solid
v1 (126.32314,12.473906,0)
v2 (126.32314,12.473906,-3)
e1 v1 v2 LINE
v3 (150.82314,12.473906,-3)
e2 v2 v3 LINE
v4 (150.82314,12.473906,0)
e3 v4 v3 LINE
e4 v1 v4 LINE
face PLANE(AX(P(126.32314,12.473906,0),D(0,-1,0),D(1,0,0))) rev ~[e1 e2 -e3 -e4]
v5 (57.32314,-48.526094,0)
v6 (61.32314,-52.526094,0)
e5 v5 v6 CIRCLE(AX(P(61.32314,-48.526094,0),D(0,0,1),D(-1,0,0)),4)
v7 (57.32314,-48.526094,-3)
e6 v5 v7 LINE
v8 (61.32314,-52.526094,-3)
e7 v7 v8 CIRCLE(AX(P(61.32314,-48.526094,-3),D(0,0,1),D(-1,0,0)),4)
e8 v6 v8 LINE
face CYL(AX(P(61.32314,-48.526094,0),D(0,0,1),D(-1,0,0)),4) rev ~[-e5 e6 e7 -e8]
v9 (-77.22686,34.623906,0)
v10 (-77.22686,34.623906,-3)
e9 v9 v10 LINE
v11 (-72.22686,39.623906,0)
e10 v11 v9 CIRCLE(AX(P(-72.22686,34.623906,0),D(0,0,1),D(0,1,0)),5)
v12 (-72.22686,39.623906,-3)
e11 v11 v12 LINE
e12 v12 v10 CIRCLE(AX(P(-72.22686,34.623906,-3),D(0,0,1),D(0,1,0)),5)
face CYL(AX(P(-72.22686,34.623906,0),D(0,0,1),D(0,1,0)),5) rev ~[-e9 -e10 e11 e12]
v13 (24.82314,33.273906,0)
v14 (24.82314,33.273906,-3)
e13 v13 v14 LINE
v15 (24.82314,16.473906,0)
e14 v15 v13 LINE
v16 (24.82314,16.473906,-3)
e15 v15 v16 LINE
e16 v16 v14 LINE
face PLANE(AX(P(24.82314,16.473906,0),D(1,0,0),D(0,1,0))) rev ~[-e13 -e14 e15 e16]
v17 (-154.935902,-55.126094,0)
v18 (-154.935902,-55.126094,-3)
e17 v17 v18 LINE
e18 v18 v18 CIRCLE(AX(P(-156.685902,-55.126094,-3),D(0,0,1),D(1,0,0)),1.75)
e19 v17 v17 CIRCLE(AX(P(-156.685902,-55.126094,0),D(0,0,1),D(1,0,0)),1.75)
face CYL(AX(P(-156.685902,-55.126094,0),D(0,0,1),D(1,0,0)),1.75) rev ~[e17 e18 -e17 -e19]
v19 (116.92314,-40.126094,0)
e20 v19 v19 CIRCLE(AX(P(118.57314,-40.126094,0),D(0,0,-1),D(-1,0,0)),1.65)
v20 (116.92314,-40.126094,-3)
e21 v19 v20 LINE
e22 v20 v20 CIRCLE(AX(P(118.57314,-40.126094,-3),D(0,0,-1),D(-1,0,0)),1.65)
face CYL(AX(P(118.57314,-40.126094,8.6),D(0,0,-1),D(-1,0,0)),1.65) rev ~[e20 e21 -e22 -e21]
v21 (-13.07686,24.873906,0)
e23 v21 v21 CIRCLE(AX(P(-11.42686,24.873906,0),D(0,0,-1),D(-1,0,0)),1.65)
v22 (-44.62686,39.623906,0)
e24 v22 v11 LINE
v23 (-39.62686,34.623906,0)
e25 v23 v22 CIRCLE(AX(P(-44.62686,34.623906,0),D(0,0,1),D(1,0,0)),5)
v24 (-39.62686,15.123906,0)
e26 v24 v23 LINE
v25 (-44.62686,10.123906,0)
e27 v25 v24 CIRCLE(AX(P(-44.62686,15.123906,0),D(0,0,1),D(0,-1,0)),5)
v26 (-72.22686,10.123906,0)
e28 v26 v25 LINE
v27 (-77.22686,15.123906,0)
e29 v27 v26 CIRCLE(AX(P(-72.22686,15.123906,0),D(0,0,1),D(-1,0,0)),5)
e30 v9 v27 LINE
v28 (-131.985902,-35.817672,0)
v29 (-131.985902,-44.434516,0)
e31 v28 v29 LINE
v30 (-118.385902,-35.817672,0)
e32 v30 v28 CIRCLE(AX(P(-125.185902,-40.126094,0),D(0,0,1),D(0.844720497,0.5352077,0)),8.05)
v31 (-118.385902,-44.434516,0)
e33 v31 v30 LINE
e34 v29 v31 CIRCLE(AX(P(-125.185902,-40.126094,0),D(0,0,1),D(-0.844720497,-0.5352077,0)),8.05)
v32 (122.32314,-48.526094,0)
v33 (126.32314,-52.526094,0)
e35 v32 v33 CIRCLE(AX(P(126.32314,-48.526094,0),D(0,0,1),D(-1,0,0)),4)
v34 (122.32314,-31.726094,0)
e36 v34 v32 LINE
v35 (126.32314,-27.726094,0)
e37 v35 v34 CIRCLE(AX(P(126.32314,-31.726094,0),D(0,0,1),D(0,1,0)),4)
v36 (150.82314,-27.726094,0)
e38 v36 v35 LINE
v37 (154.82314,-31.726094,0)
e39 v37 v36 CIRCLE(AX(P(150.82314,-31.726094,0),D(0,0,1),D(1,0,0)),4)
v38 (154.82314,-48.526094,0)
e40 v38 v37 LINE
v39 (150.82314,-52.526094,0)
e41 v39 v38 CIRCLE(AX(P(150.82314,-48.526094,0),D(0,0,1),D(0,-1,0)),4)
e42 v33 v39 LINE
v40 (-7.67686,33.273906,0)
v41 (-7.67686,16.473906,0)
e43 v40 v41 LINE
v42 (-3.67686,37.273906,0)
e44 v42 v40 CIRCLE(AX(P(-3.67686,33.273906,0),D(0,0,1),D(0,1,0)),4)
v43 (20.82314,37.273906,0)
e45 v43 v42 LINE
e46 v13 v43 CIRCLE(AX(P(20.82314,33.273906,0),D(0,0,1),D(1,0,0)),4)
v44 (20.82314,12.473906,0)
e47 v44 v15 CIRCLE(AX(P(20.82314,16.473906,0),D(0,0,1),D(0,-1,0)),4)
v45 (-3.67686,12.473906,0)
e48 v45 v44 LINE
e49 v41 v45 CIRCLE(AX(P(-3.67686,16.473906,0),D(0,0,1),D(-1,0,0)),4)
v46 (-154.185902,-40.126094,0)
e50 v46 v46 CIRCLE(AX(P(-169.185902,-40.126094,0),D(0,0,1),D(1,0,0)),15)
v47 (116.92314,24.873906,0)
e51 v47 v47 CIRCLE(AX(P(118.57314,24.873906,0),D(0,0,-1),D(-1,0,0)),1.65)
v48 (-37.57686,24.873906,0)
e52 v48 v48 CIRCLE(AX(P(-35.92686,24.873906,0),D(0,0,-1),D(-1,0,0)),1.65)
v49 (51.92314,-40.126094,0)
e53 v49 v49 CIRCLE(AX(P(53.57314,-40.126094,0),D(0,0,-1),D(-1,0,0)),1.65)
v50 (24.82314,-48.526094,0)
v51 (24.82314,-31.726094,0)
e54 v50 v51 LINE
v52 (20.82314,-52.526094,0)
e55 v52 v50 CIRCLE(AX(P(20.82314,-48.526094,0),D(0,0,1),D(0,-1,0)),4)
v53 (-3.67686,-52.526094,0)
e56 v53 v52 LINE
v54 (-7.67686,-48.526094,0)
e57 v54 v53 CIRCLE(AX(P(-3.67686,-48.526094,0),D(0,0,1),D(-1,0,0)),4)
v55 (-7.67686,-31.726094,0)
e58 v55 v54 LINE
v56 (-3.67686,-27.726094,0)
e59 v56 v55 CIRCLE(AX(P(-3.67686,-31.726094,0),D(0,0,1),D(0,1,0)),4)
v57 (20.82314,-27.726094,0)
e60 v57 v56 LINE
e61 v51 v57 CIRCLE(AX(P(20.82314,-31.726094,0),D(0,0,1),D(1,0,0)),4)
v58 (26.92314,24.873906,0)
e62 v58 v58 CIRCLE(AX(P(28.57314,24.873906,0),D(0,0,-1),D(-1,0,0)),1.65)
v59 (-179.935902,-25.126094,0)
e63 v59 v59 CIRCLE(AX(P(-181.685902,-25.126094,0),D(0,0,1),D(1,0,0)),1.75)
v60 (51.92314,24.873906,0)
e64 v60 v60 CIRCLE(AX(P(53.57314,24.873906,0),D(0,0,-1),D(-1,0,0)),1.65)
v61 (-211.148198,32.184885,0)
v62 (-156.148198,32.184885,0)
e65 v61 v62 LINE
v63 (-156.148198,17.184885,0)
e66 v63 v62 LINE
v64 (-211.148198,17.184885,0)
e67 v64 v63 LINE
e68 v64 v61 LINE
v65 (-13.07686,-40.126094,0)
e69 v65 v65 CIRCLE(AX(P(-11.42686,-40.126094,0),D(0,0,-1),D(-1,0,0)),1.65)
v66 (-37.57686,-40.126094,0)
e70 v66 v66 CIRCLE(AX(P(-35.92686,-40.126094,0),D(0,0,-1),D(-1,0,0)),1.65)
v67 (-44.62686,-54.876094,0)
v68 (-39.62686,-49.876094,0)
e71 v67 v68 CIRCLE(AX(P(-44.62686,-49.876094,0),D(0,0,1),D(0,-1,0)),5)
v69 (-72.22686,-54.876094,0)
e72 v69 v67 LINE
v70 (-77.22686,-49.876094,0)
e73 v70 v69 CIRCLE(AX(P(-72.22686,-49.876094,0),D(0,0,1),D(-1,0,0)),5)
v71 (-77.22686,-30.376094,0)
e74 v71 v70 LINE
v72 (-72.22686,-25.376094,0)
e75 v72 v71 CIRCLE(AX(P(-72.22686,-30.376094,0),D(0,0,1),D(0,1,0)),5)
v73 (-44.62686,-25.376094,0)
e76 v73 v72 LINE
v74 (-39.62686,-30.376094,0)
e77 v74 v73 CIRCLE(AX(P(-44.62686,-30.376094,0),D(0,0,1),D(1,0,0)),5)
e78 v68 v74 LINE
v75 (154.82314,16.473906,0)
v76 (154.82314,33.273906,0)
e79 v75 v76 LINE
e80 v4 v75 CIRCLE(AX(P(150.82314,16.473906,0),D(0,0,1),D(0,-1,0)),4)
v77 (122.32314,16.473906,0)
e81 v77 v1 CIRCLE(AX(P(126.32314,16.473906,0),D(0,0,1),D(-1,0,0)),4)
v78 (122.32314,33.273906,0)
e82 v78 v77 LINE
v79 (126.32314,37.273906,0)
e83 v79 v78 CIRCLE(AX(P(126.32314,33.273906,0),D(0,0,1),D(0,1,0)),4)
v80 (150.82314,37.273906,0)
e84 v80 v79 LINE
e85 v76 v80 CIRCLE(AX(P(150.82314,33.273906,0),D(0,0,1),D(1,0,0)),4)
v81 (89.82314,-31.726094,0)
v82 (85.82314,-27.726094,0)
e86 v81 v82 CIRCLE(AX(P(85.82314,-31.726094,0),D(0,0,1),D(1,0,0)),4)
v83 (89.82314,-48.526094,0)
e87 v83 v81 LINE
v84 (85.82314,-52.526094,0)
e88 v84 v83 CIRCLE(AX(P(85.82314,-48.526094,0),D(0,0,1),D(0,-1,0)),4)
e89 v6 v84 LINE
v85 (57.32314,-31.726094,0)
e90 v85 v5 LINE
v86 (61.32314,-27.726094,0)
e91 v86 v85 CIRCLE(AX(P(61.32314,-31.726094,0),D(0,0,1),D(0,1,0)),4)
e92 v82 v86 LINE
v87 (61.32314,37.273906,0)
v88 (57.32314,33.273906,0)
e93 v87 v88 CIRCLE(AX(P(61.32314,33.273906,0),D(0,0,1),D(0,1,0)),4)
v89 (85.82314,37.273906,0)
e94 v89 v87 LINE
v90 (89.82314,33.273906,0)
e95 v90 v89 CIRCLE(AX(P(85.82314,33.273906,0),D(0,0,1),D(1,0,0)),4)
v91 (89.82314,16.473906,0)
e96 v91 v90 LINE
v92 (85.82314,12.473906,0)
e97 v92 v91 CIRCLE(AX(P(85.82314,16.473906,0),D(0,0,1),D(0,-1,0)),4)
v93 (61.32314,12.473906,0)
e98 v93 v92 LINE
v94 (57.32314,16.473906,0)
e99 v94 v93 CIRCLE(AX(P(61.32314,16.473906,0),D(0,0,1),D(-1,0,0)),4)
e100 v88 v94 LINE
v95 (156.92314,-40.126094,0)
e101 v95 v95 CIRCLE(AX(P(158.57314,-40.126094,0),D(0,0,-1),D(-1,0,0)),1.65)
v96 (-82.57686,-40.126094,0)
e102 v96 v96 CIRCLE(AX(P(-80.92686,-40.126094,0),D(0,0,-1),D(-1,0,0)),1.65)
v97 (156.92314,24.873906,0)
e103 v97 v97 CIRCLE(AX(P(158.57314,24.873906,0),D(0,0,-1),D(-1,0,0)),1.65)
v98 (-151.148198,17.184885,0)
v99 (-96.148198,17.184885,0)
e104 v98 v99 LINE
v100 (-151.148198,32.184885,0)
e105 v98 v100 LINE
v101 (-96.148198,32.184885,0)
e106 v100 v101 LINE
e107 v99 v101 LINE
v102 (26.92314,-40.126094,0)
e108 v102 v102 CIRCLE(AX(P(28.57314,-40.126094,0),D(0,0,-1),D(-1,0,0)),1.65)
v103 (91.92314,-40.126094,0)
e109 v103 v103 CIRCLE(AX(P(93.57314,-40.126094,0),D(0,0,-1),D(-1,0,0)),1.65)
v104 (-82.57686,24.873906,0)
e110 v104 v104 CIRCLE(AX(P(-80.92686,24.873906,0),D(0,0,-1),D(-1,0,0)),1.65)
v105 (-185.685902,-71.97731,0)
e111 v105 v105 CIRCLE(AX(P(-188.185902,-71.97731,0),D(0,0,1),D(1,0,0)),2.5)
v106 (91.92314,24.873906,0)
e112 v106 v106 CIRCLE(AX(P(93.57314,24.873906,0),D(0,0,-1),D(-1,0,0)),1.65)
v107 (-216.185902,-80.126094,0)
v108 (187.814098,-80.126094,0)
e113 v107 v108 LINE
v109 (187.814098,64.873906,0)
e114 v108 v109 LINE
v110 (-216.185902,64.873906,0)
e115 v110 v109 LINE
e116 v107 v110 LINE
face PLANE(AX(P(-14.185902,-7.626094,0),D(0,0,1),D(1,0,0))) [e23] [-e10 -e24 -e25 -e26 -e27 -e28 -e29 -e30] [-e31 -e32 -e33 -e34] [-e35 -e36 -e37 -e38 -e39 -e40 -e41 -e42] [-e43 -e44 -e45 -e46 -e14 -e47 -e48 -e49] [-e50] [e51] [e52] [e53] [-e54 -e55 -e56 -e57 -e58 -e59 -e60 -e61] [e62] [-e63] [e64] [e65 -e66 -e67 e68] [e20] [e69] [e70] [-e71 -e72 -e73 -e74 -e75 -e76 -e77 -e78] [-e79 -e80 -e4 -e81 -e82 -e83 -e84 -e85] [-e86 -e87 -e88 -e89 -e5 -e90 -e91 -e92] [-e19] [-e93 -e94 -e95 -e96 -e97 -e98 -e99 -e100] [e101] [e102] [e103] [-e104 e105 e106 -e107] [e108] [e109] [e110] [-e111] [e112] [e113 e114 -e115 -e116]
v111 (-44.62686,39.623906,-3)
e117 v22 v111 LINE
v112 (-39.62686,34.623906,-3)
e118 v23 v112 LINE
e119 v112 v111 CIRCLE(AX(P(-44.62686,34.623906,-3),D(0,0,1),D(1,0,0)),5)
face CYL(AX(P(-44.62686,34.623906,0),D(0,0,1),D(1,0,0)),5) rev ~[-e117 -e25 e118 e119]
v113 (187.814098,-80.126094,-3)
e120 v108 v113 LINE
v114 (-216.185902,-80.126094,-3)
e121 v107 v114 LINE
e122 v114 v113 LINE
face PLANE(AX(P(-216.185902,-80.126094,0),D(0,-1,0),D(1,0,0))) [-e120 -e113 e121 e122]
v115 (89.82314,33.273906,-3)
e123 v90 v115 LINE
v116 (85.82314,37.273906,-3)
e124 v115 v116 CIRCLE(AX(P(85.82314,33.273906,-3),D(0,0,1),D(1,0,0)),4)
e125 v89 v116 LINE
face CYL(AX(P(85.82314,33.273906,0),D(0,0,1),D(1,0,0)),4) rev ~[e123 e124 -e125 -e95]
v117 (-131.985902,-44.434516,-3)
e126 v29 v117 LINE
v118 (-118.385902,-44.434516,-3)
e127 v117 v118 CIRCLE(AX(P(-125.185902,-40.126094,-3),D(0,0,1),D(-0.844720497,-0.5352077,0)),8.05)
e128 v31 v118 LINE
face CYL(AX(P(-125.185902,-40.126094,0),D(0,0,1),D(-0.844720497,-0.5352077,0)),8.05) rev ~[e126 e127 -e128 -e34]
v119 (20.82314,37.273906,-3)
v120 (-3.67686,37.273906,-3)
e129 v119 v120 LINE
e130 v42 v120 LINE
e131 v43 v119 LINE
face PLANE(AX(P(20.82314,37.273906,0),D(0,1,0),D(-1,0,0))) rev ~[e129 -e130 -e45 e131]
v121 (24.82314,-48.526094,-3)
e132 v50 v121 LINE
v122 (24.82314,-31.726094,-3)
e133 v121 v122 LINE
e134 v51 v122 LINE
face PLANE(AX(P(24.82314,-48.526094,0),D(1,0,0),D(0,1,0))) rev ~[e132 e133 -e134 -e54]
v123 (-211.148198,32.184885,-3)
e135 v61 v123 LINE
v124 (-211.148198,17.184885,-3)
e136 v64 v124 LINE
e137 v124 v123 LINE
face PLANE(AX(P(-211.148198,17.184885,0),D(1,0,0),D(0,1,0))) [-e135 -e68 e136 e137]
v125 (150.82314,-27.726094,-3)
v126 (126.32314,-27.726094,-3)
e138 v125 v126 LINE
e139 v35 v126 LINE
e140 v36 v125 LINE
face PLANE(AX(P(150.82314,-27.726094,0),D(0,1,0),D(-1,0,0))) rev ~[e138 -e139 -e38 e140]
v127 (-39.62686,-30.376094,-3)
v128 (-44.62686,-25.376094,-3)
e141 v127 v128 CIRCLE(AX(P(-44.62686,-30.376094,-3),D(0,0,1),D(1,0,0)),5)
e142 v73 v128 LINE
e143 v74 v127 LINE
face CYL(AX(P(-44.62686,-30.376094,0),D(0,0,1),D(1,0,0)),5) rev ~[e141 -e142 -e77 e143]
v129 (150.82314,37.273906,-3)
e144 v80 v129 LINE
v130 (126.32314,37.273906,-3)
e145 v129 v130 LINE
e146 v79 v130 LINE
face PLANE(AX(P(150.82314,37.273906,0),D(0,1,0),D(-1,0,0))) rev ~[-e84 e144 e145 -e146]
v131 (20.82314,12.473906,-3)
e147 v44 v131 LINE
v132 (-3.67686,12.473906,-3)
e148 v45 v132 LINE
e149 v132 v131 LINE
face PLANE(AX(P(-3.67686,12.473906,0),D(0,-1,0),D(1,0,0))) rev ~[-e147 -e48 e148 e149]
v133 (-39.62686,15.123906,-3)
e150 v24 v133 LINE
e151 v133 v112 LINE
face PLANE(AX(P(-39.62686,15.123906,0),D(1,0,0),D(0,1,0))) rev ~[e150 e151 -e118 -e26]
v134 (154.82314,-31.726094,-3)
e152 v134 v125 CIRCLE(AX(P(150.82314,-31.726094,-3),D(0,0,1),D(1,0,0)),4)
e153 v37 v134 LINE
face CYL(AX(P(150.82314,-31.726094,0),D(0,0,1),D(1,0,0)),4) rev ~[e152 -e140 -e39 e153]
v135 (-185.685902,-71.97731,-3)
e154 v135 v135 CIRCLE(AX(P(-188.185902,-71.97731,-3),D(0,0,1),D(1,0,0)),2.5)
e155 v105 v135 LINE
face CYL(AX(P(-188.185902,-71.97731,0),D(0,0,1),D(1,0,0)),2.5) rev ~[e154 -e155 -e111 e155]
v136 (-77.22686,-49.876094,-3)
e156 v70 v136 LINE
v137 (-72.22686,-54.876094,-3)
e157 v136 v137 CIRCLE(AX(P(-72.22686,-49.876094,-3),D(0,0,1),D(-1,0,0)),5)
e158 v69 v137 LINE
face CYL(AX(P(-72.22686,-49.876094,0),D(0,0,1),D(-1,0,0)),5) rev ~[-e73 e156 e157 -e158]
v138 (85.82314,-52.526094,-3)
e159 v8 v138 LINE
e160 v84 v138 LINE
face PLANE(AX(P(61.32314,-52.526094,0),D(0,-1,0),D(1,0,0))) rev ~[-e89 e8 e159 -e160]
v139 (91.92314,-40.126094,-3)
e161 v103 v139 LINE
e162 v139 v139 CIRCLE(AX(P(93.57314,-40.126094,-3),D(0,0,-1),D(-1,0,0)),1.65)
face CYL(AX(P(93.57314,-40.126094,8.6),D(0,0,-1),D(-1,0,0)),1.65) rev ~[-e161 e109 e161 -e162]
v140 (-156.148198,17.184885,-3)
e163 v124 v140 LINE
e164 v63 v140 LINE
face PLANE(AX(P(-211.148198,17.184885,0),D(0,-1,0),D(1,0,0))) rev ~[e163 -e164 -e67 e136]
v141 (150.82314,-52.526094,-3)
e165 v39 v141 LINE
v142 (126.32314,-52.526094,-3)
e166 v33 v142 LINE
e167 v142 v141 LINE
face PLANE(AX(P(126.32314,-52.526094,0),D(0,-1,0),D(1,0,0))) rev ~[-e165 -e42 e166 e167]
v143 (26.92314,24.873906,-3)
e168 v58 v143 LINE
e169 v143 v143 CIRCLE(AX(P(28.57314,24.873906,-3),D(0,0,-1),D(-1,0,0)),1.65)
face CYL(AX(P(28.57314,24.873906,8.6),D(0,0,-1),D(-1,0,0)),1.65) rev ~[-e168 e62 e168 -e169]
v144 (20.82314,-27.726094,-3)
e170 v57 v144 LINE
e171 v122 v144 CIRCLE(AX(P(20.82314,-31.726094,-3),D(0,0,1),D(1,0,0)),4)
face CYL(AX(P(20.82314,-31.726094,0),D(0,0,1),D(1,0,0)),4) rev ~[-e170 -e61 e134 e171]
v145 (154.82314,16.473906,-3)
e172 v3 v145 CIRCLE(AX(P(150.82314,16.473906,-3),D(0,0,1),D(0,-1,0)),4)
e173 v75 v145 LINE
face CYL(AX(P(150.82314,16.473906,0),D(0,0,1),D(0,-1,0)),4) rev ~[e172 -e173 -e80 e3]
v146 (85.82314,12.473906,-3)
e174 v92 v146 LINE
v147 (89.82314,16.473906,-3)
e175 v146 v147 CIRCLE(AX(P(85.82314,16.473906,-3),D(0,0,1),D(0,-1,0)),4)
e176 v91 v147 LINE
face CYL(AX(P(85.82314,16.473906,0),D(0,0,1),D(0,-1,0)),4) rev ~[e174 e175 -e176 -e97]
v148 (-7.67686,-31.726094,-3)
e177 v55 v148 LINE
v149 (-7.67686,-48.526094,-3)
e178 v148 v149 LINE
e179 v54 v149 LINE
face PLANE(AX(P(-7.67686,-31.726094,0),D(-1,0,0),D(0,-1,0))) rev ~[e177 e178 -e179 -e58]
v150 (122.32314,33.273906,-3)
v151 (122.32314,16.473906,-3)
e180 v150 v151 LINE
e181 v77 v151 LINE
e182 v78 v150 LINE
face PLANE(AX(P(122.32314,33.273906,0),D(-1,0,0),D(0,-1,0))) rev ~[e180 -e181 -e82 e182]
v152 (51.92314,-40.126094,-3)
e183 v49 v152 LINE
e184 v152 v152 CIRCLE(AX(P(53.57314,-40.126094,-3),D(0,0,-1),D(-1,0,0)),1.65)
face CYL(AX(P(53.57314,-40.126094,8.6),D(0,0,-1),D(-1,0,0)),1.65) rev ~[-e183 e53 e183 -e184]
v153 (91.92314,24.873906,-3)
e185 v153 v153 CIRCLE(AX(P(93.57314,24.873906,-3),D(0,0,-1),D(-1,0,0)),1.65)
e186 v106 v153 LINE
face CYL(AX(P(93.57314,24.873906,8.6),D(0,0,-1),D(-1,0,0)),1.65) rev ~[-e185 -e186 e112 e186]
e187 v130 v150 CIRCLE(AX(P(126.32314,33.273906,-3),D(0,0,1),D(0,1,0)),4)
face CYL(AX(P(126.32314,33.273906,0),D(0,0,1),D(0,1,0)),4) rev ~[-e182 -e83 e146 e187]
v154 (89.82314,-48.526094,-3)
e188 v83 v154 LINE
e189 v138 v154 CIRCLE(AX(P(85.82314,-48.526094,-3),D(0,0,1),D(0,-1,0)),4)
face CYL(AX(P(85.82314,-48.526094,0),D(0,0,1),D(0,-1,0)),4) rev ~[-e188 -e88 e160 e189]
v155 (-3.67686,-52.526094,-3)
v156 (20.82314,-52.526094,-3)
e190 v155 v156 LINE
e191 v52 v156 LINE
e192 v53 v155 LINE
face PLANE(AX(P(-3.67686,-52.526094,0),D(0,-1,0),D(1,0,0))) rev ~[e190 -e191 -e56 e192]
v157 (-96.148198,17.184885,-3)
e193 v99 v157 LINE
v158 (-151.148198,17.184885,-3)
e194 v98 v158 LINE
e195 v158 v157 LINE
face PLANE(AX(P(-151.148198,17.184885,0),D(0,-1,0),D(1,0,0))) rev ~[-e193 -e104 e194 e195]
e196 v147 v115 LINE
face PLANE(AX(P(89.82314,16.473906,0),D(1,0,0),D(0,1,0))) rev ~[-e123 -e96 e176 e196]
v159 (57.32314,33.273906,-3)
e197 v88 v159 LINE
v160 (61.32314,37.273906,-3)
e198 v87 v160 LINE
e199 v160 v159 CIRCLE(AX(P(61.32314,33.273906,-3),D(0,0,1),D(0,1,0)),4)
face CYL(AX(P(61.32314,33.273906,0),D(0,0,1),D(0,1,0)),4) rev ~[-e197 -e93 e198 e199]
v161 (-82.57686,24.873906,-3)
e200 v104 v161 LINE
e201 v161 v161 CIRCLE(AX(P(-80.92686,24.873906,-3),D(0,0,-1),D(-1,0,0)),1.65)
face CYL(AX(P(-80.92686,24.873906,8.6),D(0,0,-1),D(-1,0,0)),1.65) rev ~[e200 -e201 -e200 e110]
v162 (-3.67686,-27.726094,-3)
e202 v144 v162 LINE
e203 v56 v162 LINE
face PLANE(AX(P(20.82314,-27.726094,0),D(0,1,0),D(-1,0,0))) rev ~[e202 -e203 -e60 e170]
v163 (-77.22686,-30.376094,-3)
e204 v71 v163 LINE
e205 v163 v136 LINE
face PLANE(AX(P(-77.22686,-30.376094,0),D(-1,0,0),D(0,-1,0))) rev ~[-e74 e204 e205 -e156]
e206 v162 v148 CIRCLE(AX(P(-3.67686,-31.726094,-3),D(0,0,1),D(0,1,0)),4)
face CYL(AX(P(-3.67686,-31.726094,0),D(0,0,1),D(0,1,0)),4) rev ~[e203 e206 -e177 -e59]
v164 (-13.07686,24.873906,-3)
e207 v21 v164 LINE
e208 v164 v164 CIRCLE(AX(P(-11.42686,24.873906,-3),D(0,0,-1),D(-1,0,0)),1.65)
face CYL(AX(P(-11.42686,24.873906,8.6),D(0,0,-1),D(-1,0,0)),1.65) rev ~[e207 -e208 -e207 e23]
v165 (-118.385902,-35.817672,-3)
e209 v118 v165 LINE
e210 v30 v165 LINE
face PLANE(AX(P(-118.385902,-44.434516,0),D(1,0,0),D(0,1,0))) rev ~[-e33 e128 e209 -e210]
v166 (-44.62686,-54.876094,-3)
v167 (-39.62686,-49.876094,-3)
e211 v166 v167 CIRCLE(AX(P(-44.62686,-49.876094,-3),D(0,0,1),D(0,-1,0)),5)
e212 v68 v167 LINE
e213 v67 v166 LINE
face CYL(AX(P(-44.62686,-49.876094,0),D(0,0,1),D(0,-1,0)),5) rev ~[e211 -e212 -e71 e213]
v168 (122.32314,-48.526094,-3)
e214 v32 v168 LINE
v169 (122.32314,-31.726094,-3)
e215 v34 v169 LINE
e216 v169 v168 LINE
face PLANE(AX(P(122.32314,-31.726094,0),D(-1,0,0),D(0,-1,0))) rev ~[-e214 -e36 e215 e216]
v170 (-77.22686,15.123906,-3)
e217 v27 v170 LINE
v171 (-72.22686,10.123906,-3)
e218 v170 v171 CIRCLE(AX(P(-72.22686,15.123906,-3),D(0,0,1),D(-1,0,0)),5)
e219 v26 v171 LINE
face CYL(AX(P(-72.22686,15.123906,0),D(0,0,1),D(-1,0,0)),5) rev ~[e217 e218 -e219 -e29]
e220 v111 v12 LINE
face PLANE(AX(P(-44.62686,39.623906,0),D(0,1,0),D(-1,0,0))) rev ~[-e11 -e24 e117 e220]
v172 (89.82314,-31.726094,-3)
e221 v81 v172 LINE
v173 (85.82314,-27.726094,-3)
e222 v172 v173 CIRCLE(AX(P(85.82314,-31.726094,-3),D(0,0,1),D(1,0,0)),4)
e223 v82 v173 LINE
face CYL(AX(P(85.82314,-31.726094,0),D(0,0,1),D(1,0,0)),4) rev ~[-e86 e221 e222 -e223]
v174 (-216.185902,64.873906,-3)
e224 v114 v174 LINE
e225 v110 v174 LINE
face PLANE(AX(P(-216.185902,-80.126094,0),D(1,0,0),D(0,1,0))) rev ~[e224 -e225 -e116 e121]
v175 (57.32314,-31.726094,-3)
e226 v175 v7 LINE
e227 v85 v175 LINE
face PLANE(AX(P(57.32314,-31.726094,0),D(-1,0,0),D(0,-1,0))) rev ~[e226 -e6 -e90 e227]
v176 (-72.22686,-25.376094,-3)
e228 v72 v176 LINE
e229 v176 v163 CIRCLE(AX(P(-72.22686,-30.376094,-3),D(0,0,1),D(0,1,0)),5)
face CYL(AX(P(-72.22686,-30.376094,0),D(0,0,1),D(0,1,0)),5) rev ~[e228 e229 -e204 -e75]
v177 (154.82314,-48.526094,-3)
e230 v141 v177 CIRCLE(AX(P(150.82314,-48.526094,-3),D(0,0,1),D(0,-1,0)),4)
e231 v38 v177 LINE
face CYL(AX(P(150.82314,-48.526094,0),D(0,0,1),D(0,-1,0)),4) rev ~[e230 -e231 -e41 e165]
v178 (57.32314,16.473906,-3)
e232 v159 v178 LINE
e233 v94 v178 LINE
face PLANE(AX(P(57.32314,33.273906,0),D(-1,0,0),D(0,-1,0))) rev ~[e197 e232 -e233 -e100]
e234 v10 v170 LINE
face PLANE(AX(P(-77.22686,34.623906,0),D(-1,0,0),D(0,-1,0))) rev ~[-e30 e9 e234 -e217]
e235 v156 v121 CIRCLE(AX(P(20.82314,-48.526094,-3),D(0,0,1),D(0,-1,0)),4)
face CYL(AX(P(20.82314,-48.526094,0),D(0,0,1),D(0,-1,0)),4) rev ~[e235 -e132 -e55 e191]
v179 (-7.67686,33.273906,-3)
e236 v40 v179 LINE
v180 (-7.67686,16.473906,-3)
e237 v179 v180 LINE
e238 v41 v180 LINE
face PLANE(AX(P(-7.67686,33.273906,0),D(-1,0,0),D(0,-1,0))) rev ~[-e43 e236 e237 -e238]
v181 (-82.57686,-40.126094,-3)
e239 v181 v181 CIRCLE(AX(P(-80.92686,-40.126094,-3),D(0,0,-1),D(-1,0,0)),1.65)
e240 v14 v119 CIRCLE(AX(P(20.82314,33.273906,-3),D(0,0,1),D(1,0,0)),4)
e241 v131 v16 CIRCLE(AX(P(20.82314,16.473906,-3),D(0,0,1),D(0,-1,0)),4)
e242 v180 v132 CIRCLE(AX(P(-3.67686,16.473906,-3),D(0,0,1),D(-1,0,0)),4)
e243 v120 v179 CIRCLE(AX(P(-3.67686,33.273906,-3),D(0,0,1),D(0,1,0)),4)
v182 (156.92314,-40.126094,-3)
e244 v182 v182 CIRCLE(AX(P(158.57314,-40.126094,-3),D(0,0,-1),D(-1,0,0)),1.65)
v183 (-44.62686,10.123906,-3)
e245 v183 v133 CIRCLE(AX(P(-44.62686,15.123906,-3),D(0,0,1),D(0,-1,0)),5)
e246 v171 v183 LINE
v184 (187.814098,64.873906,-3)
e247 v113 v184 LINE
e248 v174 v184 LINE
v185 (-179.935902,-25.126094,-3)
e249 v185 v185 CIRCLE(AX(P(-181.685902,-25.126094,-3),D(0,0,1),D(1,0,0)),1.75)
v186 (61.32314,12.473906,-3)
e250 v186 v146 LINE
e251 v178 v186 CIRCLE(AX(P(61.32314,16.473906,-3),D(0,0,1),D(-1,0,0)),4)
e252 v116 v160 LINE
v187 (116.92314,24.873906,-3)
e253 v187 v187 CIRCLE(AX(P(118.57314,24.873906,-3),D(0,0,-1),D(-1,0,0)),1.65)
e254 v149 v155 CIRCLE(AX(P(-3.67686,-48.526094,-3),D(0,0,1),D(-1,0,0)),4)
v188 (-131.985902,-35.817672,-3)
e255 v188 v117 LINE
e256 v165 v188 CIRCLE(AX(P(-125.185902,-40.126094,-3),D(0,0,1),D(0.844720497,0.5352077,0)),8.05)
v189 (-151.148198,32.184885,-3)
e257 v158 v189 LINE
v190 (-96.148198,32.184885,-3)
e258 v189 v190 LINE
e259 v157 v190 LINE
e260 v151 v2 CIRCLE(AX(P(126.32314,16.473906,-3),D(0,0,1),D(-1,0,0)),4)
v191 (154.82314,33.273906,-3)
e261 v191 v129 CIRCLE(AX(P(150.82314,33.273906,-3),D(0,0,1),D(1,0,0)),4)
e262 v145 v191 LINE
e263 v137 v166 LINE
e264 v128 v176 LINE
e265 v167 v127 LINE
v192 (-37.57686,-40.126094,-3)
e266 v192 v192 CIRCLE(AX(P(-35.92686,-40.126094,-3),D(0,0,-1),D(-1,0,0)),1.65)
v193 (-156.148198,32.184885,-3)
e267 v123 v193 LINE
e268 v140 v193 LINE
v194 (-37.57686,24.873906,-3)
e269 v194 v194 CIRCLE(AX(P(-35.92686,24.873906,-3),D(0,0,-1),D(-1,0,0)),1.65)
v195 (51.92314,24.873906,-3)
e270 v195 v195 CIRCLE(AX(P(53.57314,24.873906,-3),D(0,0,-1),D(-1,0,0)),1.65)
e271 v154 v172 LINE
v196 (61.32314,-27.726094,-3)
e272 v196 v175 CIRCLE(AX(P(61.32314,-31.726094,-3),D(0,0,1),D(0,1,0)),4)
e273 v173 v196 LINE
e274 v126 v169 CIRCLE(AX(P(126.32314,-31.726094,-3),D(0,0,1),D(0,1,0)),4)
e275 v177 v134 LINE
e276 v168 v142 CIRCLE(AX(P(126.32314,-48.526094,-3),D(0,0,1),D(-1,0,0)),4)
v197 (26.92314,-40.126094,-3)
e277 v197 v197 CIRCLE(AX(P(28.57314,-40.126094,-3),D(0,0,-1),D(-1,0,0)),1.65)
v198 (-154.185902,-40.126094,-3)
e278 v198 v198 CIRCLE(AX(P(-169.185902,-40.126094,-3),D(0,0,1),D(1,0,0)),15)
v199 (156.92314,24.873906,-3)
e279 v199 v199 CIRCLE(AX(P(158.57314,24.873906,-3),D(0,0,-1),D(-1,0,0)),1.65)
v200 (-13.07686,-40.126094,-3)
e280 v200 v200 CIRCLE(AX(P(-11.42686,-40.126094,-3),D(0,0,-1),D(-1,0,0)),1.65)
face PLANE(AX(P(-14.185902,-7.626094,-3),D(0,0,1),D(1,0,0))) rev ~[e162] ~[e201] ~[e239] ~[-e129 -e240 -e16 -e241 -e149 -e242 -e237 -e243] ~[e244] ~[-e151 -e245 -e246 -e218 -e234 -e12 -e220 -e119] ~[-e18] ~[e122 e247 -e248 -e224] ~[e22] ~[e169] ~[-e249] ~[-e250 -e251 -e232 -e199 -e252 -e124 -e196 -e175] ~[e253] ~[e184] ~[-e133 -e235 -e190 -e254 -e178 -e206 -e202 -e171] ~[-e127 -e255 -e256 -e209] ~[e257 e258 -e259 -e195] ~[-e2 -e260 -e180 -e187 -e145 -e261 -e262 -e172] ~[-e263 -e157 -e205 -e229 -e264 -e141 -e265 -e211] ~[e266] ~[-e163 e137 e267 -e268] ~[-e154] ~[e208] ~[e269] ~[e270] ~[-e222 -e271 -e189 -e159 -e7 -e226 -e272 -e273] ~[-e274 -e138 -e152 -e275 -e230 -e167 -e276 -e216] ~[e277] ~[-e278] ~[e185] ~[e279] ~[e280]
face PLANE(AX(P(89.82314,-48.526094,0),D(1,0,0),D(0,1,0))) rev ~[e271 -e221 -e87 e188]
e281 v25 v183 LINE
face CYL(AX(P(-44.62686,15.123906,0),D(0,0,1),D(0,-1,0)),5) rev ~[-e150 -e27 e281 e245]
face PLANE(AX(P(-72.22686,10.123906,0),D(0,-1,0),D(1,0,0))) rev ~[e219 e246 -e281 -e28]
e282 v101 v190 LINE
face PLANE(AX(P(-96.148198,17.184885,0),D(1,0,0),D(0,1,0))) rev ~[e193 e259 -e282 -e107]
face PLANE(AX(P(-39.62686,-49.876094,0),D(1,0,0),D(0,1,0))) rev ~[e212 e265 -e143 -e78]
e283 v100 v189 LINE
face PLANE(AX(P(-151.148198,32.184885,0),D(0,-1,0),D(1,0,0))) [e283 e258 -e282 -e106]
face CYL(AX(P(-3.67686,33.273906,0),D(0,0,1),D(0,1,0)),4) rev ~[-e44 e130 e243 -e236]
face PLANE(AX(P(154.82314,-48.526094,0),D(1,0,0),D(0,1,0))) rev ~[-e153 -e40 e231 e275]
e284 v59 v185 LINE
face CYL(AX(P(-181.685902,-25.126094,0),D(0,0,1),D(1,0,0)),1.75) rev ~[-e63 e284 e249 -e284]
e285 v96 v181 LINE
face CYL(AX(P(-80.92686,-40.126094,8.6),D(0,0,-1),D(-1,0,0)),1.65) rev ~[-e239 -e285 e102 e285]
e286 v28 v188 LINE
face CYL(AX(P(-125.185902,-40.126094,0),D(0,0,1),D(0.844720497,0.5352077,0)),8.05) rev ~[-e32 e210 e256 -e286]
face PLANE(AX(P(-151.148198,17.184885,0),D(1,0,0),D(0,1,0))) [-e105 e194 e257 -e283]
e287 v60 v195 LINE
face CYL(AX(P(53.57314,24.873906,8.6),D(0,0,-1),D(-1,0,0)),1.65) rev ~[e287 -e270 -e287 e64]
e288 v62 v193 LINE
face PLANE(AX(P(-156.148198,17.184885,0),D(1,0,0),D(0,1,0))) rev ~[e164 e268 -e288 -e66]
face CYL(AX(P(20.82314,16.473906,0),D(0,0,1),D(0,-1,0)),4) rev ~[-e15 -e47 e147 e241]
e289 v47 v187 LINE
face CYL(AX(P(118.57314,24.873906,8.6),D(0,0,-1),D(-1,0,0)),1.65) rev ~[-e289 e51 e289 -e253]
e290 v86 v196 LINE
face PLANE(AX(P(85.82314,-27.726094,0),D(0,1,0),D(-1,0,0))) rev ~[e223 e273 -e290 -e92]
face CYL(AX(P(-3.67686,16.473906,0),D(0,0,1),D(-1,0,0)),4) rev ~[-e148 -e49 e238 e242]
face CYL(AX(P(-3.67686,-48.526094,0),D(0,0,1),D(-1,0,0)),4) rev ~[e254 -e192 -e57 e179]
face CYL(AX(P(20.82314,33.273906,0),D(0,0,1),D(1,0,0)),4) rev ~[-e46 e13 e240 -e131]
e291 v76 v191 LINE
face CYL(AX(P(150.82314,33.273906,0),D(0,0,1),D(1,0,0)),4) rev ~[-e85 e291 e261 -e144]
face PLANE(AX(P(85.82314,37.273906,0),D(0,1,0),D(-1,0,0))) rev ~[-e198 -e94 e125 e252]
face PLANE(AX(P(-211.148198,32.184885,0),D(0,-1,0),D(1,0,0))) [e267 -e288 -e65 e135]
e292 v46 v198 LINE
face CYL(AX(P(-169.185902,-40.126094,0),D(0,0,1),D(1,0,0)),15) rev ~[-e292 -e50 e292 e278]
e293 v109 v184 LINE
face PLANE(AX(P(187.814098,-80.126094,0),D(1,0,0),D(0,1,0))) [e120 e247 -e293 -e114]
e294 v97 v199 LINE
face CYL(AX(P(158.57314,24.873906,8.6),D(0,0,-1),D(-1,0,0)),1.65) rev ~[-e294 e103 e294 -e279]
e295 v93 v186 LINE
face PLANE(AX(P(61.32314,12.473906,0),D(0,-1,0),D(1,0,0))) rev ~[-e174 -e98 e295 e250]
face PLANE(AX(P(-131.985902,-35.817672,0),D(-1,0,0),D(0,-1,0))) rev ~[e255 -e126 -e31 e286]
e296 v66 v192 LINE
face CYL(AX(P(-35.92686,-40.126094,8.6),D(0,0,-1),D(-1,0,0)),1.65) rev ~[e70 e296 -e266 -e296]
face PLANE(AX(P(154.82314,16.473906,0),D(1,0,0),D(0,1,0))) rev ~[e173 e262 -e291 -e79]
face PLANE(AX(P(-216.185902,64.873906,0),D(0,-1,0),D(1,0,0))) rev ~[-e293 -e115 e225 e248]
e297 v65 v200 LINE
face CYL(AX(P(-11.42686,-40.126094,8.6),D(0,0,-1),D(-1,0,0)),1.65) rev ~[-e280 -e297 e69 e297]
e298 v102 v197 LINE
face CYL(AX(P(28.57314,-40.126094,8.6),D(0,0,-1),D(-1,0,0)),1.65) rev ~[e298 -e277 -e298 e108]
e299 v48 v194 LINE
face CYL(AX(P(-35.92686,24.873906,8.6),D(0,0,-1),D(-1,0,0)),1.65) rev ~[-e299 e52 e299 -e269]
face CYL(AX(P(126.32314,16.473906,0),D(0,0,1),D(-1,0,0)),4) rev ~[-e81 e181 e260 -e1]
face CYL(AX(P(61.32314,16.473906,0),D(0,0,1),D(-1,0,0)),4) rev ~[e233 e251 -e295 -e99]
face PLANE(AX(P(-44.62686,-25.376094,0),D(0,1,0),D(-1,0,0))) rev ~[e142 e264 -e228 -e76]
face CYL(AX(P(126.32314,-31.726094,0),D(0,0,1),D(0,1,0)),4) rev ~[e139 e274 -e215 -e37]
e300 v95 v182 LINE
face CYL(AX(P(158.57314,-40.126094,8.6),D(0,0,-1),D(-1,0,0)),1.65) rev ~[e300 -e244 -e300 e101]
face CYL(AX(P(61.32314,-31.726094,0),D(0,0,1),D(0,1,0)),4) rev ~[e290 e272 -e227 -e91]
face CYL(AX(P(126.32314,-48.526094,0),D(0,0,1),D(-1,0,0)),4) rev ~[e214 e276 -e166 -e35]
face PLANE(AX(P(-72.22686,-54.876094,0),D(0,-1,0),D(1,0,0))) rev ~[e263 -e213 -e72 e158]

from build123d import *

# Parameters (mm, degrees)
F0_W     = 404
F0_H     = 145
F2_DEPTH = 3
F3_D     = 3.3
F3_DEPTH = 8.6
F3_TIP   = 0.9914200214
F1_R     = 1.5
F1_R_2   = 15
F1_R_3   = 1.75
F1_R_4   = 2.5
F1_W     = 55
F1_H     = 15
F4_DEPTH = 25


with BuildPart() as f2:
    # F0 (on Top) → F2 (new body)
    with BuildSketch(Plane.XY):
        with Locations((-14.1859020234, -7.6260944492)):
            Rectangle(F0_W, F0_H)
    extrude(amount=-F2_DEPTH)

    # F3
    with Locations(Plane.XY):
        with Locations((118.573140085, 24.8739055508), (158.573140085, 24.8739055508), (93.573140085, 24.8739055508), (53.573140085, 24.8739055508), (53.573140085, -40.1260944492), (93.573140085, -40.1260944492), (118.573140085, -40.1260944492), (158.573140085, -40.1260944492), (28.573140085, -40.1260944492), (-11.426859915, -40.1260944492), (-11.426859915, 24.8739055508), (28.573140085, 24.8739055508), (-35.926859915, 24.8739055508), (-80.926859915, 24.8739055508), (-80.926859915, -40.1260944492), (-35.926859915, -40.1260944492)):
            Hole(F3_D / 2, depth=F3_DEPTH)
            with Locations((0, 0, -(F3_DEPTH + F3_TIP / 2))):  # 118° drill point
                Cone(0, F3_D / 2, F3_TIP, mode=Mode.SUBTRACT)

    # F1 (on Top) → F4 (cut)
    with BuildSketch(Plane.XY):
        with BuildLine():
            Line((126.323140085, 12.4739055508), (150.823140085, 12.4739055508))
            ThreePointArc((150.823140085, 12.4739055508), (153.6515672098, 13.645478426), (154.823140085, 16.4739055508))
            Line((154.823140085, 16.4739055508), (154.823140085, 33.2739055508))
            ThreePointArc((154.823140085, 33.2739055508), (153.6515672098, 36.1023326755), (150.823140085, 37.2739055508))
            Line((150.823140085, 37.2739055508), (126.323140085, 37.2739055508))
            ThreePointArc((126.323140085, 37.2739055508), (123.4947129603, 36.1023326755), (122.323140085, 33.2739055508))
            Line((122.323140085, 33.2739055508), (122.323140085, 16.4739055508))
            ThreePointArc((122.323140085, 16.4739055508), (123.4947129603, 13.645478426), (126.323140085, 12.4739055508))
        make_face()
        with Locations((158.573140085, 24.8739055508)):
            Circle(F1_R)
        with Locations((118.573140085, 24.8739055508)):
            Circle(F1_R)
        with BuildLine():
            Line((-72.226859915, 10.1239055508), (-44.626859915, 10.1239055508))
            ThreePointArc((-44.626859915, 10.1239055508), (-41.091326009, 11.5883716448), (-39.626859915, 15.1239055508))
            Line((-39.626859915, 15.1239055508), (-39.626859915, 34.6239055508))
            ThreePointArc((-39.626859915, 34.6239055508), (-41.091326009, 38.1594394567), (-44.626859915, 39.6239055508))
            Line((-44.626859915, 39.6239055508), (-72.226859915, 39.6239055508))
            ThreePointArc((-72.226859915, 39.6239055508), (-75.7623938209, 38.1594394567), (-77.226859915, 34.6239055508))
            Line((-77.226859915, 34.6239055508), (-77.226859915, 15.1239055508))
            ThreePointArc((-77.226859915, 15.1239055508), (-75.7623938209, 11.5883716448), (-72.226859915, 10.1239055508))
        make_face()
        with Locations((-35.926859915, 24.8739055508)):
            Circle(F1_R)
        with Locations((-80.926859915, 24.8739055508)):
            Circle(F1_R)
        with BuildLine():
            Line((122.323140085, -31.7260944492), (122.323140085, -48.5260944492))
            ThreePointArc((122.323140085, -48.5260944492), (123.4947129603, -51.354521574), (126.323140085, -52.5260944492))
            Line((126.323140085, -52.5260944492), (150.823140085, -52.5260944492))
            ThreePointArc((150.823140085, -52.5260944492), (153.6515672098, -51.354521574), (154.823140085, -48.5260944492))
            Line((154.823140085, -48.5260944492), (154.823140085, -31.7260944492))
            ThreePointArc((154.823140085, -31.7260944492), (153.6515672098, -28.8976673245), (150.823140085, -27.7260944492))
            Line((150.823140085, -27.7260944492), (126.323140085, -27.7260944492))
            ThreePointArc((126.323140085, -27.7260944492), (123.4947129603, -28.8976673245), (122.323140085, -31.7260944492))
        make_face()
        with Locations((158.573140085, -40.1260944492)):
            Circle(F1_R)
        with Locations((118.573140085, -40.1260944492)):
            Circle(F1_R)
        with BuildLine():
            Line((57.323140085, 33.2739055508), (57.323140085, 16.4739055508))
            ThreePointArc((57.323140085, 16.4739055508), (58.4947129603, 13.645478426), (61.323140085, 12.4739055508))
            Line((61.323140085, 12.4739055508), (85.823140085, 12.4739055508))
            ThreePointArc((85.823140085, 12.4739055508), (88.6515672098, 13.645478426), (89.823140085, 16.4739055508))
            Line((89.823140085, 16.4739055508), (89.823140085, 33.2739055508))
            ThreePointArc((89.823140085, 33.2739055508), (88.6515672098, 36.1023326755), (85.823140085, 37.2739055508))
            Line((85.823140085, 37.2739055508), (61.323140085, 37.2739055508))
            ThreePointArc((61.323140085, 37.2739055508), (58.4947129603, 36.1023326755), (57.323140085, 33.2739055508))
        make_face()
        with Locations((93.573140085, 24.8739055508)):
            Circle(F1_R)
        with Locations((53.573140085, 24.8739055508)):
            Circle(F1_R)
        with BuildLine():
            Line((57.323140085, -31.7260944492), (57.323140085, -48.5260944492))
            ThreePointArc((57.323140085, -48.5260944492), (58.4947129603, -51.354521574), (61.323140085, -52.5260944492))
            Line((61.323140085, -52.5260944492), (85.823140085, -52.5260944492))
            ThreePointArc((85.823140085, -52.5260944492), (88.6515672098, -51.354521574), (89.823140085, -48.5260944492))
            Line((89.823140085, -48.5260944492), (89.823140085, -31.7260944492))
            ThreePointArc((89.823140085, -31.7260944492), (88.6515672098, -28.8976673245), (85.823140085, -27.7260944492))
            Line((85.823140085, -27.7260944492), (61.323140085, -27.7260944492))
            ThreePointArc((61.323140085, -27.7260944492), (58.4947129603, -28.8976673245), (57.323140085, -31.7260944492))
        make_face()
        with Locations((93.573140085, -40.1260944492)):
            Circle(F1_R)
        with Locations((53.573140085, -40.1260944492)):
            Circle(F1_R)
        with BuildLine():
            Line((-7.676859915, 33.2739055508), (-7.676859915, 16.4739055508))
            ThreePointArc((-7.676859915, 16.4739055508), (-6.5052870397, 13.645478426), (-3.676859915, 12.4739055508))
            Line((-3.676859915, 12.4739055508), (20.823140085, 12.4739055508))
            ThreePointArc((20.823140085, 12.4739055508), (23.6515672098, 13.645478426), (24.823140085, 16.4739055508))
            Line((24.823140085, 16.4739055508), (24.823140085, 33.2739055508))
            ThreePointArc((24.823140085, 33.2739055508), (23.6515672098, 36.1023326755), (20.823140085, 37.2739055508))
            Line((20.823140085, 37.2739055508), (-3.676859915, 37.2739055508))
            ThreePointArc((-3.676859915, 37.2739055508), (-6.5052870397, 36.1023326755), (-7.676859915, 33.2739055508))
        make_face()
        with Locations((28.573140085, 24.8739055508)):
            Circle(F1_R)
        with Locations((-11.426859915, 24.8739055508)):
            Circle(F1_R)
        with BuildLine():
            Line((-7.676859915, -31.7260944492), (-7.676859915, -48.5260944492))
            ThreePointArc((-7.676859915, -48.5260944492), (-6.5052870397, -51.354521574), (-3.676859915, -52.5260944492))
            Line((-3.676859915, -52.5260944492), (20.823140085, -52.5260944492))
            ThreePointArc((20.823140085, -52.5260944492), (23.6515672098, -51.354521574), (24.823140085, -48.5260944492))
            Line((24.823140085, -48.5260944492), (24.823140085, -31.7260944492))
            ThreePointArc((24.823140085, -31.7260944492), (23.6515672098, -28.8976673245), (20.823140085, -27.7260944492))
            Line((20.823140085, -27.7260944492), (-3.676859915, -27.7260944492))
            ThreePointArc((-3.676859915, -27.7260944492), (-6.5052870397, -28.8976673245), (-7.676859915, -31.7260944492))
        make_face()
        with Locations((28.573140085, -40.1260944492)):
            Circle(F1_R)
        with Locations((-11.426859915, -40.1260944492)):
            Circle(F1_R)
        with BuildLine():
            Line((-77.226859915, -30.3760944492), (-77.226859915, -49.8760944492))
            ThreePointArc((-77.226859915, -49.8760944492), (-75.7623938209, -53.4116283552), (-72.226859915, -54.8760944492))
            Line((-72.226859915, -54.8760944492), (-44.626859915, -54.8760944492))
            ThreePointArc((-44.626859915, -54.8760944492), (-41.091326009, -53.4116283552), (-39.626859915, -49.8760944492))
            Line((-39.626859915, -49.8760944492), (-39.626859915, -30.3760944492))
            ThreePointArc((-39.626859915, -30.3760944492), (-41.091326009, -26.8405605433), (-44.626859915, -25.3760944492))
            Line((-44.626859915, -25.3760944492), (-72.226859915, -25.3760944492))
            ThreePointArc((-72.226859915, -25.3760944492), (-75.7623938209, -26.8405605433), (-77.226859915, -30.3760944492))
        make_face()
        with Locations((-35.926859915, -40.1260944492)):
            Circle(F1_R)
        with Locations((-80.926859915, -40.1260944492)):
            Circle(F1_R)
        with Locations((-169.1859020234, -40.1260944492)):
            Circle(F1_R_2)
        with Locations((-156.6859020234, -55.1260944492)):
            Circle(F1_R_3)
        with Locations((-181.6859020234, -25.1260944492)):
            Circle(F1_R_3)
        with Locations((-188.1859020234, -71.9773098826)):
            Circle(F1_R_4)
        with BuildLine():
            Line((-131.9859020234, -35.8176724643), (-131.9859020234, -44.4345164341))
            ThreePointArc((-131.9859020234, -44.4345164341), (-125.1859020234, -48.1760944492), (-118.3859020234, -44.4345164341))
            Line((-118.3859020234, -44.4345164341), (-118.3859020234, -35.8176724643))
            ThreePointArc((-118.3859020234, -35.8176724643), (-125.1859020234, -32.0760944492), (-131.9859020234, -35.8176724643))
        make_face()
        with Locations((-183.6481976509, 24.6848849975)):
            Rectangle(F1_W, F1_H)
        with Locations((-123.6481976509, 24.6848849975)):
            Rectangle(F1_W, F1_H)
    extrude(amount=-F4_DEPTH, mode=Mode.SUBTRACT)


solid = f2.part
